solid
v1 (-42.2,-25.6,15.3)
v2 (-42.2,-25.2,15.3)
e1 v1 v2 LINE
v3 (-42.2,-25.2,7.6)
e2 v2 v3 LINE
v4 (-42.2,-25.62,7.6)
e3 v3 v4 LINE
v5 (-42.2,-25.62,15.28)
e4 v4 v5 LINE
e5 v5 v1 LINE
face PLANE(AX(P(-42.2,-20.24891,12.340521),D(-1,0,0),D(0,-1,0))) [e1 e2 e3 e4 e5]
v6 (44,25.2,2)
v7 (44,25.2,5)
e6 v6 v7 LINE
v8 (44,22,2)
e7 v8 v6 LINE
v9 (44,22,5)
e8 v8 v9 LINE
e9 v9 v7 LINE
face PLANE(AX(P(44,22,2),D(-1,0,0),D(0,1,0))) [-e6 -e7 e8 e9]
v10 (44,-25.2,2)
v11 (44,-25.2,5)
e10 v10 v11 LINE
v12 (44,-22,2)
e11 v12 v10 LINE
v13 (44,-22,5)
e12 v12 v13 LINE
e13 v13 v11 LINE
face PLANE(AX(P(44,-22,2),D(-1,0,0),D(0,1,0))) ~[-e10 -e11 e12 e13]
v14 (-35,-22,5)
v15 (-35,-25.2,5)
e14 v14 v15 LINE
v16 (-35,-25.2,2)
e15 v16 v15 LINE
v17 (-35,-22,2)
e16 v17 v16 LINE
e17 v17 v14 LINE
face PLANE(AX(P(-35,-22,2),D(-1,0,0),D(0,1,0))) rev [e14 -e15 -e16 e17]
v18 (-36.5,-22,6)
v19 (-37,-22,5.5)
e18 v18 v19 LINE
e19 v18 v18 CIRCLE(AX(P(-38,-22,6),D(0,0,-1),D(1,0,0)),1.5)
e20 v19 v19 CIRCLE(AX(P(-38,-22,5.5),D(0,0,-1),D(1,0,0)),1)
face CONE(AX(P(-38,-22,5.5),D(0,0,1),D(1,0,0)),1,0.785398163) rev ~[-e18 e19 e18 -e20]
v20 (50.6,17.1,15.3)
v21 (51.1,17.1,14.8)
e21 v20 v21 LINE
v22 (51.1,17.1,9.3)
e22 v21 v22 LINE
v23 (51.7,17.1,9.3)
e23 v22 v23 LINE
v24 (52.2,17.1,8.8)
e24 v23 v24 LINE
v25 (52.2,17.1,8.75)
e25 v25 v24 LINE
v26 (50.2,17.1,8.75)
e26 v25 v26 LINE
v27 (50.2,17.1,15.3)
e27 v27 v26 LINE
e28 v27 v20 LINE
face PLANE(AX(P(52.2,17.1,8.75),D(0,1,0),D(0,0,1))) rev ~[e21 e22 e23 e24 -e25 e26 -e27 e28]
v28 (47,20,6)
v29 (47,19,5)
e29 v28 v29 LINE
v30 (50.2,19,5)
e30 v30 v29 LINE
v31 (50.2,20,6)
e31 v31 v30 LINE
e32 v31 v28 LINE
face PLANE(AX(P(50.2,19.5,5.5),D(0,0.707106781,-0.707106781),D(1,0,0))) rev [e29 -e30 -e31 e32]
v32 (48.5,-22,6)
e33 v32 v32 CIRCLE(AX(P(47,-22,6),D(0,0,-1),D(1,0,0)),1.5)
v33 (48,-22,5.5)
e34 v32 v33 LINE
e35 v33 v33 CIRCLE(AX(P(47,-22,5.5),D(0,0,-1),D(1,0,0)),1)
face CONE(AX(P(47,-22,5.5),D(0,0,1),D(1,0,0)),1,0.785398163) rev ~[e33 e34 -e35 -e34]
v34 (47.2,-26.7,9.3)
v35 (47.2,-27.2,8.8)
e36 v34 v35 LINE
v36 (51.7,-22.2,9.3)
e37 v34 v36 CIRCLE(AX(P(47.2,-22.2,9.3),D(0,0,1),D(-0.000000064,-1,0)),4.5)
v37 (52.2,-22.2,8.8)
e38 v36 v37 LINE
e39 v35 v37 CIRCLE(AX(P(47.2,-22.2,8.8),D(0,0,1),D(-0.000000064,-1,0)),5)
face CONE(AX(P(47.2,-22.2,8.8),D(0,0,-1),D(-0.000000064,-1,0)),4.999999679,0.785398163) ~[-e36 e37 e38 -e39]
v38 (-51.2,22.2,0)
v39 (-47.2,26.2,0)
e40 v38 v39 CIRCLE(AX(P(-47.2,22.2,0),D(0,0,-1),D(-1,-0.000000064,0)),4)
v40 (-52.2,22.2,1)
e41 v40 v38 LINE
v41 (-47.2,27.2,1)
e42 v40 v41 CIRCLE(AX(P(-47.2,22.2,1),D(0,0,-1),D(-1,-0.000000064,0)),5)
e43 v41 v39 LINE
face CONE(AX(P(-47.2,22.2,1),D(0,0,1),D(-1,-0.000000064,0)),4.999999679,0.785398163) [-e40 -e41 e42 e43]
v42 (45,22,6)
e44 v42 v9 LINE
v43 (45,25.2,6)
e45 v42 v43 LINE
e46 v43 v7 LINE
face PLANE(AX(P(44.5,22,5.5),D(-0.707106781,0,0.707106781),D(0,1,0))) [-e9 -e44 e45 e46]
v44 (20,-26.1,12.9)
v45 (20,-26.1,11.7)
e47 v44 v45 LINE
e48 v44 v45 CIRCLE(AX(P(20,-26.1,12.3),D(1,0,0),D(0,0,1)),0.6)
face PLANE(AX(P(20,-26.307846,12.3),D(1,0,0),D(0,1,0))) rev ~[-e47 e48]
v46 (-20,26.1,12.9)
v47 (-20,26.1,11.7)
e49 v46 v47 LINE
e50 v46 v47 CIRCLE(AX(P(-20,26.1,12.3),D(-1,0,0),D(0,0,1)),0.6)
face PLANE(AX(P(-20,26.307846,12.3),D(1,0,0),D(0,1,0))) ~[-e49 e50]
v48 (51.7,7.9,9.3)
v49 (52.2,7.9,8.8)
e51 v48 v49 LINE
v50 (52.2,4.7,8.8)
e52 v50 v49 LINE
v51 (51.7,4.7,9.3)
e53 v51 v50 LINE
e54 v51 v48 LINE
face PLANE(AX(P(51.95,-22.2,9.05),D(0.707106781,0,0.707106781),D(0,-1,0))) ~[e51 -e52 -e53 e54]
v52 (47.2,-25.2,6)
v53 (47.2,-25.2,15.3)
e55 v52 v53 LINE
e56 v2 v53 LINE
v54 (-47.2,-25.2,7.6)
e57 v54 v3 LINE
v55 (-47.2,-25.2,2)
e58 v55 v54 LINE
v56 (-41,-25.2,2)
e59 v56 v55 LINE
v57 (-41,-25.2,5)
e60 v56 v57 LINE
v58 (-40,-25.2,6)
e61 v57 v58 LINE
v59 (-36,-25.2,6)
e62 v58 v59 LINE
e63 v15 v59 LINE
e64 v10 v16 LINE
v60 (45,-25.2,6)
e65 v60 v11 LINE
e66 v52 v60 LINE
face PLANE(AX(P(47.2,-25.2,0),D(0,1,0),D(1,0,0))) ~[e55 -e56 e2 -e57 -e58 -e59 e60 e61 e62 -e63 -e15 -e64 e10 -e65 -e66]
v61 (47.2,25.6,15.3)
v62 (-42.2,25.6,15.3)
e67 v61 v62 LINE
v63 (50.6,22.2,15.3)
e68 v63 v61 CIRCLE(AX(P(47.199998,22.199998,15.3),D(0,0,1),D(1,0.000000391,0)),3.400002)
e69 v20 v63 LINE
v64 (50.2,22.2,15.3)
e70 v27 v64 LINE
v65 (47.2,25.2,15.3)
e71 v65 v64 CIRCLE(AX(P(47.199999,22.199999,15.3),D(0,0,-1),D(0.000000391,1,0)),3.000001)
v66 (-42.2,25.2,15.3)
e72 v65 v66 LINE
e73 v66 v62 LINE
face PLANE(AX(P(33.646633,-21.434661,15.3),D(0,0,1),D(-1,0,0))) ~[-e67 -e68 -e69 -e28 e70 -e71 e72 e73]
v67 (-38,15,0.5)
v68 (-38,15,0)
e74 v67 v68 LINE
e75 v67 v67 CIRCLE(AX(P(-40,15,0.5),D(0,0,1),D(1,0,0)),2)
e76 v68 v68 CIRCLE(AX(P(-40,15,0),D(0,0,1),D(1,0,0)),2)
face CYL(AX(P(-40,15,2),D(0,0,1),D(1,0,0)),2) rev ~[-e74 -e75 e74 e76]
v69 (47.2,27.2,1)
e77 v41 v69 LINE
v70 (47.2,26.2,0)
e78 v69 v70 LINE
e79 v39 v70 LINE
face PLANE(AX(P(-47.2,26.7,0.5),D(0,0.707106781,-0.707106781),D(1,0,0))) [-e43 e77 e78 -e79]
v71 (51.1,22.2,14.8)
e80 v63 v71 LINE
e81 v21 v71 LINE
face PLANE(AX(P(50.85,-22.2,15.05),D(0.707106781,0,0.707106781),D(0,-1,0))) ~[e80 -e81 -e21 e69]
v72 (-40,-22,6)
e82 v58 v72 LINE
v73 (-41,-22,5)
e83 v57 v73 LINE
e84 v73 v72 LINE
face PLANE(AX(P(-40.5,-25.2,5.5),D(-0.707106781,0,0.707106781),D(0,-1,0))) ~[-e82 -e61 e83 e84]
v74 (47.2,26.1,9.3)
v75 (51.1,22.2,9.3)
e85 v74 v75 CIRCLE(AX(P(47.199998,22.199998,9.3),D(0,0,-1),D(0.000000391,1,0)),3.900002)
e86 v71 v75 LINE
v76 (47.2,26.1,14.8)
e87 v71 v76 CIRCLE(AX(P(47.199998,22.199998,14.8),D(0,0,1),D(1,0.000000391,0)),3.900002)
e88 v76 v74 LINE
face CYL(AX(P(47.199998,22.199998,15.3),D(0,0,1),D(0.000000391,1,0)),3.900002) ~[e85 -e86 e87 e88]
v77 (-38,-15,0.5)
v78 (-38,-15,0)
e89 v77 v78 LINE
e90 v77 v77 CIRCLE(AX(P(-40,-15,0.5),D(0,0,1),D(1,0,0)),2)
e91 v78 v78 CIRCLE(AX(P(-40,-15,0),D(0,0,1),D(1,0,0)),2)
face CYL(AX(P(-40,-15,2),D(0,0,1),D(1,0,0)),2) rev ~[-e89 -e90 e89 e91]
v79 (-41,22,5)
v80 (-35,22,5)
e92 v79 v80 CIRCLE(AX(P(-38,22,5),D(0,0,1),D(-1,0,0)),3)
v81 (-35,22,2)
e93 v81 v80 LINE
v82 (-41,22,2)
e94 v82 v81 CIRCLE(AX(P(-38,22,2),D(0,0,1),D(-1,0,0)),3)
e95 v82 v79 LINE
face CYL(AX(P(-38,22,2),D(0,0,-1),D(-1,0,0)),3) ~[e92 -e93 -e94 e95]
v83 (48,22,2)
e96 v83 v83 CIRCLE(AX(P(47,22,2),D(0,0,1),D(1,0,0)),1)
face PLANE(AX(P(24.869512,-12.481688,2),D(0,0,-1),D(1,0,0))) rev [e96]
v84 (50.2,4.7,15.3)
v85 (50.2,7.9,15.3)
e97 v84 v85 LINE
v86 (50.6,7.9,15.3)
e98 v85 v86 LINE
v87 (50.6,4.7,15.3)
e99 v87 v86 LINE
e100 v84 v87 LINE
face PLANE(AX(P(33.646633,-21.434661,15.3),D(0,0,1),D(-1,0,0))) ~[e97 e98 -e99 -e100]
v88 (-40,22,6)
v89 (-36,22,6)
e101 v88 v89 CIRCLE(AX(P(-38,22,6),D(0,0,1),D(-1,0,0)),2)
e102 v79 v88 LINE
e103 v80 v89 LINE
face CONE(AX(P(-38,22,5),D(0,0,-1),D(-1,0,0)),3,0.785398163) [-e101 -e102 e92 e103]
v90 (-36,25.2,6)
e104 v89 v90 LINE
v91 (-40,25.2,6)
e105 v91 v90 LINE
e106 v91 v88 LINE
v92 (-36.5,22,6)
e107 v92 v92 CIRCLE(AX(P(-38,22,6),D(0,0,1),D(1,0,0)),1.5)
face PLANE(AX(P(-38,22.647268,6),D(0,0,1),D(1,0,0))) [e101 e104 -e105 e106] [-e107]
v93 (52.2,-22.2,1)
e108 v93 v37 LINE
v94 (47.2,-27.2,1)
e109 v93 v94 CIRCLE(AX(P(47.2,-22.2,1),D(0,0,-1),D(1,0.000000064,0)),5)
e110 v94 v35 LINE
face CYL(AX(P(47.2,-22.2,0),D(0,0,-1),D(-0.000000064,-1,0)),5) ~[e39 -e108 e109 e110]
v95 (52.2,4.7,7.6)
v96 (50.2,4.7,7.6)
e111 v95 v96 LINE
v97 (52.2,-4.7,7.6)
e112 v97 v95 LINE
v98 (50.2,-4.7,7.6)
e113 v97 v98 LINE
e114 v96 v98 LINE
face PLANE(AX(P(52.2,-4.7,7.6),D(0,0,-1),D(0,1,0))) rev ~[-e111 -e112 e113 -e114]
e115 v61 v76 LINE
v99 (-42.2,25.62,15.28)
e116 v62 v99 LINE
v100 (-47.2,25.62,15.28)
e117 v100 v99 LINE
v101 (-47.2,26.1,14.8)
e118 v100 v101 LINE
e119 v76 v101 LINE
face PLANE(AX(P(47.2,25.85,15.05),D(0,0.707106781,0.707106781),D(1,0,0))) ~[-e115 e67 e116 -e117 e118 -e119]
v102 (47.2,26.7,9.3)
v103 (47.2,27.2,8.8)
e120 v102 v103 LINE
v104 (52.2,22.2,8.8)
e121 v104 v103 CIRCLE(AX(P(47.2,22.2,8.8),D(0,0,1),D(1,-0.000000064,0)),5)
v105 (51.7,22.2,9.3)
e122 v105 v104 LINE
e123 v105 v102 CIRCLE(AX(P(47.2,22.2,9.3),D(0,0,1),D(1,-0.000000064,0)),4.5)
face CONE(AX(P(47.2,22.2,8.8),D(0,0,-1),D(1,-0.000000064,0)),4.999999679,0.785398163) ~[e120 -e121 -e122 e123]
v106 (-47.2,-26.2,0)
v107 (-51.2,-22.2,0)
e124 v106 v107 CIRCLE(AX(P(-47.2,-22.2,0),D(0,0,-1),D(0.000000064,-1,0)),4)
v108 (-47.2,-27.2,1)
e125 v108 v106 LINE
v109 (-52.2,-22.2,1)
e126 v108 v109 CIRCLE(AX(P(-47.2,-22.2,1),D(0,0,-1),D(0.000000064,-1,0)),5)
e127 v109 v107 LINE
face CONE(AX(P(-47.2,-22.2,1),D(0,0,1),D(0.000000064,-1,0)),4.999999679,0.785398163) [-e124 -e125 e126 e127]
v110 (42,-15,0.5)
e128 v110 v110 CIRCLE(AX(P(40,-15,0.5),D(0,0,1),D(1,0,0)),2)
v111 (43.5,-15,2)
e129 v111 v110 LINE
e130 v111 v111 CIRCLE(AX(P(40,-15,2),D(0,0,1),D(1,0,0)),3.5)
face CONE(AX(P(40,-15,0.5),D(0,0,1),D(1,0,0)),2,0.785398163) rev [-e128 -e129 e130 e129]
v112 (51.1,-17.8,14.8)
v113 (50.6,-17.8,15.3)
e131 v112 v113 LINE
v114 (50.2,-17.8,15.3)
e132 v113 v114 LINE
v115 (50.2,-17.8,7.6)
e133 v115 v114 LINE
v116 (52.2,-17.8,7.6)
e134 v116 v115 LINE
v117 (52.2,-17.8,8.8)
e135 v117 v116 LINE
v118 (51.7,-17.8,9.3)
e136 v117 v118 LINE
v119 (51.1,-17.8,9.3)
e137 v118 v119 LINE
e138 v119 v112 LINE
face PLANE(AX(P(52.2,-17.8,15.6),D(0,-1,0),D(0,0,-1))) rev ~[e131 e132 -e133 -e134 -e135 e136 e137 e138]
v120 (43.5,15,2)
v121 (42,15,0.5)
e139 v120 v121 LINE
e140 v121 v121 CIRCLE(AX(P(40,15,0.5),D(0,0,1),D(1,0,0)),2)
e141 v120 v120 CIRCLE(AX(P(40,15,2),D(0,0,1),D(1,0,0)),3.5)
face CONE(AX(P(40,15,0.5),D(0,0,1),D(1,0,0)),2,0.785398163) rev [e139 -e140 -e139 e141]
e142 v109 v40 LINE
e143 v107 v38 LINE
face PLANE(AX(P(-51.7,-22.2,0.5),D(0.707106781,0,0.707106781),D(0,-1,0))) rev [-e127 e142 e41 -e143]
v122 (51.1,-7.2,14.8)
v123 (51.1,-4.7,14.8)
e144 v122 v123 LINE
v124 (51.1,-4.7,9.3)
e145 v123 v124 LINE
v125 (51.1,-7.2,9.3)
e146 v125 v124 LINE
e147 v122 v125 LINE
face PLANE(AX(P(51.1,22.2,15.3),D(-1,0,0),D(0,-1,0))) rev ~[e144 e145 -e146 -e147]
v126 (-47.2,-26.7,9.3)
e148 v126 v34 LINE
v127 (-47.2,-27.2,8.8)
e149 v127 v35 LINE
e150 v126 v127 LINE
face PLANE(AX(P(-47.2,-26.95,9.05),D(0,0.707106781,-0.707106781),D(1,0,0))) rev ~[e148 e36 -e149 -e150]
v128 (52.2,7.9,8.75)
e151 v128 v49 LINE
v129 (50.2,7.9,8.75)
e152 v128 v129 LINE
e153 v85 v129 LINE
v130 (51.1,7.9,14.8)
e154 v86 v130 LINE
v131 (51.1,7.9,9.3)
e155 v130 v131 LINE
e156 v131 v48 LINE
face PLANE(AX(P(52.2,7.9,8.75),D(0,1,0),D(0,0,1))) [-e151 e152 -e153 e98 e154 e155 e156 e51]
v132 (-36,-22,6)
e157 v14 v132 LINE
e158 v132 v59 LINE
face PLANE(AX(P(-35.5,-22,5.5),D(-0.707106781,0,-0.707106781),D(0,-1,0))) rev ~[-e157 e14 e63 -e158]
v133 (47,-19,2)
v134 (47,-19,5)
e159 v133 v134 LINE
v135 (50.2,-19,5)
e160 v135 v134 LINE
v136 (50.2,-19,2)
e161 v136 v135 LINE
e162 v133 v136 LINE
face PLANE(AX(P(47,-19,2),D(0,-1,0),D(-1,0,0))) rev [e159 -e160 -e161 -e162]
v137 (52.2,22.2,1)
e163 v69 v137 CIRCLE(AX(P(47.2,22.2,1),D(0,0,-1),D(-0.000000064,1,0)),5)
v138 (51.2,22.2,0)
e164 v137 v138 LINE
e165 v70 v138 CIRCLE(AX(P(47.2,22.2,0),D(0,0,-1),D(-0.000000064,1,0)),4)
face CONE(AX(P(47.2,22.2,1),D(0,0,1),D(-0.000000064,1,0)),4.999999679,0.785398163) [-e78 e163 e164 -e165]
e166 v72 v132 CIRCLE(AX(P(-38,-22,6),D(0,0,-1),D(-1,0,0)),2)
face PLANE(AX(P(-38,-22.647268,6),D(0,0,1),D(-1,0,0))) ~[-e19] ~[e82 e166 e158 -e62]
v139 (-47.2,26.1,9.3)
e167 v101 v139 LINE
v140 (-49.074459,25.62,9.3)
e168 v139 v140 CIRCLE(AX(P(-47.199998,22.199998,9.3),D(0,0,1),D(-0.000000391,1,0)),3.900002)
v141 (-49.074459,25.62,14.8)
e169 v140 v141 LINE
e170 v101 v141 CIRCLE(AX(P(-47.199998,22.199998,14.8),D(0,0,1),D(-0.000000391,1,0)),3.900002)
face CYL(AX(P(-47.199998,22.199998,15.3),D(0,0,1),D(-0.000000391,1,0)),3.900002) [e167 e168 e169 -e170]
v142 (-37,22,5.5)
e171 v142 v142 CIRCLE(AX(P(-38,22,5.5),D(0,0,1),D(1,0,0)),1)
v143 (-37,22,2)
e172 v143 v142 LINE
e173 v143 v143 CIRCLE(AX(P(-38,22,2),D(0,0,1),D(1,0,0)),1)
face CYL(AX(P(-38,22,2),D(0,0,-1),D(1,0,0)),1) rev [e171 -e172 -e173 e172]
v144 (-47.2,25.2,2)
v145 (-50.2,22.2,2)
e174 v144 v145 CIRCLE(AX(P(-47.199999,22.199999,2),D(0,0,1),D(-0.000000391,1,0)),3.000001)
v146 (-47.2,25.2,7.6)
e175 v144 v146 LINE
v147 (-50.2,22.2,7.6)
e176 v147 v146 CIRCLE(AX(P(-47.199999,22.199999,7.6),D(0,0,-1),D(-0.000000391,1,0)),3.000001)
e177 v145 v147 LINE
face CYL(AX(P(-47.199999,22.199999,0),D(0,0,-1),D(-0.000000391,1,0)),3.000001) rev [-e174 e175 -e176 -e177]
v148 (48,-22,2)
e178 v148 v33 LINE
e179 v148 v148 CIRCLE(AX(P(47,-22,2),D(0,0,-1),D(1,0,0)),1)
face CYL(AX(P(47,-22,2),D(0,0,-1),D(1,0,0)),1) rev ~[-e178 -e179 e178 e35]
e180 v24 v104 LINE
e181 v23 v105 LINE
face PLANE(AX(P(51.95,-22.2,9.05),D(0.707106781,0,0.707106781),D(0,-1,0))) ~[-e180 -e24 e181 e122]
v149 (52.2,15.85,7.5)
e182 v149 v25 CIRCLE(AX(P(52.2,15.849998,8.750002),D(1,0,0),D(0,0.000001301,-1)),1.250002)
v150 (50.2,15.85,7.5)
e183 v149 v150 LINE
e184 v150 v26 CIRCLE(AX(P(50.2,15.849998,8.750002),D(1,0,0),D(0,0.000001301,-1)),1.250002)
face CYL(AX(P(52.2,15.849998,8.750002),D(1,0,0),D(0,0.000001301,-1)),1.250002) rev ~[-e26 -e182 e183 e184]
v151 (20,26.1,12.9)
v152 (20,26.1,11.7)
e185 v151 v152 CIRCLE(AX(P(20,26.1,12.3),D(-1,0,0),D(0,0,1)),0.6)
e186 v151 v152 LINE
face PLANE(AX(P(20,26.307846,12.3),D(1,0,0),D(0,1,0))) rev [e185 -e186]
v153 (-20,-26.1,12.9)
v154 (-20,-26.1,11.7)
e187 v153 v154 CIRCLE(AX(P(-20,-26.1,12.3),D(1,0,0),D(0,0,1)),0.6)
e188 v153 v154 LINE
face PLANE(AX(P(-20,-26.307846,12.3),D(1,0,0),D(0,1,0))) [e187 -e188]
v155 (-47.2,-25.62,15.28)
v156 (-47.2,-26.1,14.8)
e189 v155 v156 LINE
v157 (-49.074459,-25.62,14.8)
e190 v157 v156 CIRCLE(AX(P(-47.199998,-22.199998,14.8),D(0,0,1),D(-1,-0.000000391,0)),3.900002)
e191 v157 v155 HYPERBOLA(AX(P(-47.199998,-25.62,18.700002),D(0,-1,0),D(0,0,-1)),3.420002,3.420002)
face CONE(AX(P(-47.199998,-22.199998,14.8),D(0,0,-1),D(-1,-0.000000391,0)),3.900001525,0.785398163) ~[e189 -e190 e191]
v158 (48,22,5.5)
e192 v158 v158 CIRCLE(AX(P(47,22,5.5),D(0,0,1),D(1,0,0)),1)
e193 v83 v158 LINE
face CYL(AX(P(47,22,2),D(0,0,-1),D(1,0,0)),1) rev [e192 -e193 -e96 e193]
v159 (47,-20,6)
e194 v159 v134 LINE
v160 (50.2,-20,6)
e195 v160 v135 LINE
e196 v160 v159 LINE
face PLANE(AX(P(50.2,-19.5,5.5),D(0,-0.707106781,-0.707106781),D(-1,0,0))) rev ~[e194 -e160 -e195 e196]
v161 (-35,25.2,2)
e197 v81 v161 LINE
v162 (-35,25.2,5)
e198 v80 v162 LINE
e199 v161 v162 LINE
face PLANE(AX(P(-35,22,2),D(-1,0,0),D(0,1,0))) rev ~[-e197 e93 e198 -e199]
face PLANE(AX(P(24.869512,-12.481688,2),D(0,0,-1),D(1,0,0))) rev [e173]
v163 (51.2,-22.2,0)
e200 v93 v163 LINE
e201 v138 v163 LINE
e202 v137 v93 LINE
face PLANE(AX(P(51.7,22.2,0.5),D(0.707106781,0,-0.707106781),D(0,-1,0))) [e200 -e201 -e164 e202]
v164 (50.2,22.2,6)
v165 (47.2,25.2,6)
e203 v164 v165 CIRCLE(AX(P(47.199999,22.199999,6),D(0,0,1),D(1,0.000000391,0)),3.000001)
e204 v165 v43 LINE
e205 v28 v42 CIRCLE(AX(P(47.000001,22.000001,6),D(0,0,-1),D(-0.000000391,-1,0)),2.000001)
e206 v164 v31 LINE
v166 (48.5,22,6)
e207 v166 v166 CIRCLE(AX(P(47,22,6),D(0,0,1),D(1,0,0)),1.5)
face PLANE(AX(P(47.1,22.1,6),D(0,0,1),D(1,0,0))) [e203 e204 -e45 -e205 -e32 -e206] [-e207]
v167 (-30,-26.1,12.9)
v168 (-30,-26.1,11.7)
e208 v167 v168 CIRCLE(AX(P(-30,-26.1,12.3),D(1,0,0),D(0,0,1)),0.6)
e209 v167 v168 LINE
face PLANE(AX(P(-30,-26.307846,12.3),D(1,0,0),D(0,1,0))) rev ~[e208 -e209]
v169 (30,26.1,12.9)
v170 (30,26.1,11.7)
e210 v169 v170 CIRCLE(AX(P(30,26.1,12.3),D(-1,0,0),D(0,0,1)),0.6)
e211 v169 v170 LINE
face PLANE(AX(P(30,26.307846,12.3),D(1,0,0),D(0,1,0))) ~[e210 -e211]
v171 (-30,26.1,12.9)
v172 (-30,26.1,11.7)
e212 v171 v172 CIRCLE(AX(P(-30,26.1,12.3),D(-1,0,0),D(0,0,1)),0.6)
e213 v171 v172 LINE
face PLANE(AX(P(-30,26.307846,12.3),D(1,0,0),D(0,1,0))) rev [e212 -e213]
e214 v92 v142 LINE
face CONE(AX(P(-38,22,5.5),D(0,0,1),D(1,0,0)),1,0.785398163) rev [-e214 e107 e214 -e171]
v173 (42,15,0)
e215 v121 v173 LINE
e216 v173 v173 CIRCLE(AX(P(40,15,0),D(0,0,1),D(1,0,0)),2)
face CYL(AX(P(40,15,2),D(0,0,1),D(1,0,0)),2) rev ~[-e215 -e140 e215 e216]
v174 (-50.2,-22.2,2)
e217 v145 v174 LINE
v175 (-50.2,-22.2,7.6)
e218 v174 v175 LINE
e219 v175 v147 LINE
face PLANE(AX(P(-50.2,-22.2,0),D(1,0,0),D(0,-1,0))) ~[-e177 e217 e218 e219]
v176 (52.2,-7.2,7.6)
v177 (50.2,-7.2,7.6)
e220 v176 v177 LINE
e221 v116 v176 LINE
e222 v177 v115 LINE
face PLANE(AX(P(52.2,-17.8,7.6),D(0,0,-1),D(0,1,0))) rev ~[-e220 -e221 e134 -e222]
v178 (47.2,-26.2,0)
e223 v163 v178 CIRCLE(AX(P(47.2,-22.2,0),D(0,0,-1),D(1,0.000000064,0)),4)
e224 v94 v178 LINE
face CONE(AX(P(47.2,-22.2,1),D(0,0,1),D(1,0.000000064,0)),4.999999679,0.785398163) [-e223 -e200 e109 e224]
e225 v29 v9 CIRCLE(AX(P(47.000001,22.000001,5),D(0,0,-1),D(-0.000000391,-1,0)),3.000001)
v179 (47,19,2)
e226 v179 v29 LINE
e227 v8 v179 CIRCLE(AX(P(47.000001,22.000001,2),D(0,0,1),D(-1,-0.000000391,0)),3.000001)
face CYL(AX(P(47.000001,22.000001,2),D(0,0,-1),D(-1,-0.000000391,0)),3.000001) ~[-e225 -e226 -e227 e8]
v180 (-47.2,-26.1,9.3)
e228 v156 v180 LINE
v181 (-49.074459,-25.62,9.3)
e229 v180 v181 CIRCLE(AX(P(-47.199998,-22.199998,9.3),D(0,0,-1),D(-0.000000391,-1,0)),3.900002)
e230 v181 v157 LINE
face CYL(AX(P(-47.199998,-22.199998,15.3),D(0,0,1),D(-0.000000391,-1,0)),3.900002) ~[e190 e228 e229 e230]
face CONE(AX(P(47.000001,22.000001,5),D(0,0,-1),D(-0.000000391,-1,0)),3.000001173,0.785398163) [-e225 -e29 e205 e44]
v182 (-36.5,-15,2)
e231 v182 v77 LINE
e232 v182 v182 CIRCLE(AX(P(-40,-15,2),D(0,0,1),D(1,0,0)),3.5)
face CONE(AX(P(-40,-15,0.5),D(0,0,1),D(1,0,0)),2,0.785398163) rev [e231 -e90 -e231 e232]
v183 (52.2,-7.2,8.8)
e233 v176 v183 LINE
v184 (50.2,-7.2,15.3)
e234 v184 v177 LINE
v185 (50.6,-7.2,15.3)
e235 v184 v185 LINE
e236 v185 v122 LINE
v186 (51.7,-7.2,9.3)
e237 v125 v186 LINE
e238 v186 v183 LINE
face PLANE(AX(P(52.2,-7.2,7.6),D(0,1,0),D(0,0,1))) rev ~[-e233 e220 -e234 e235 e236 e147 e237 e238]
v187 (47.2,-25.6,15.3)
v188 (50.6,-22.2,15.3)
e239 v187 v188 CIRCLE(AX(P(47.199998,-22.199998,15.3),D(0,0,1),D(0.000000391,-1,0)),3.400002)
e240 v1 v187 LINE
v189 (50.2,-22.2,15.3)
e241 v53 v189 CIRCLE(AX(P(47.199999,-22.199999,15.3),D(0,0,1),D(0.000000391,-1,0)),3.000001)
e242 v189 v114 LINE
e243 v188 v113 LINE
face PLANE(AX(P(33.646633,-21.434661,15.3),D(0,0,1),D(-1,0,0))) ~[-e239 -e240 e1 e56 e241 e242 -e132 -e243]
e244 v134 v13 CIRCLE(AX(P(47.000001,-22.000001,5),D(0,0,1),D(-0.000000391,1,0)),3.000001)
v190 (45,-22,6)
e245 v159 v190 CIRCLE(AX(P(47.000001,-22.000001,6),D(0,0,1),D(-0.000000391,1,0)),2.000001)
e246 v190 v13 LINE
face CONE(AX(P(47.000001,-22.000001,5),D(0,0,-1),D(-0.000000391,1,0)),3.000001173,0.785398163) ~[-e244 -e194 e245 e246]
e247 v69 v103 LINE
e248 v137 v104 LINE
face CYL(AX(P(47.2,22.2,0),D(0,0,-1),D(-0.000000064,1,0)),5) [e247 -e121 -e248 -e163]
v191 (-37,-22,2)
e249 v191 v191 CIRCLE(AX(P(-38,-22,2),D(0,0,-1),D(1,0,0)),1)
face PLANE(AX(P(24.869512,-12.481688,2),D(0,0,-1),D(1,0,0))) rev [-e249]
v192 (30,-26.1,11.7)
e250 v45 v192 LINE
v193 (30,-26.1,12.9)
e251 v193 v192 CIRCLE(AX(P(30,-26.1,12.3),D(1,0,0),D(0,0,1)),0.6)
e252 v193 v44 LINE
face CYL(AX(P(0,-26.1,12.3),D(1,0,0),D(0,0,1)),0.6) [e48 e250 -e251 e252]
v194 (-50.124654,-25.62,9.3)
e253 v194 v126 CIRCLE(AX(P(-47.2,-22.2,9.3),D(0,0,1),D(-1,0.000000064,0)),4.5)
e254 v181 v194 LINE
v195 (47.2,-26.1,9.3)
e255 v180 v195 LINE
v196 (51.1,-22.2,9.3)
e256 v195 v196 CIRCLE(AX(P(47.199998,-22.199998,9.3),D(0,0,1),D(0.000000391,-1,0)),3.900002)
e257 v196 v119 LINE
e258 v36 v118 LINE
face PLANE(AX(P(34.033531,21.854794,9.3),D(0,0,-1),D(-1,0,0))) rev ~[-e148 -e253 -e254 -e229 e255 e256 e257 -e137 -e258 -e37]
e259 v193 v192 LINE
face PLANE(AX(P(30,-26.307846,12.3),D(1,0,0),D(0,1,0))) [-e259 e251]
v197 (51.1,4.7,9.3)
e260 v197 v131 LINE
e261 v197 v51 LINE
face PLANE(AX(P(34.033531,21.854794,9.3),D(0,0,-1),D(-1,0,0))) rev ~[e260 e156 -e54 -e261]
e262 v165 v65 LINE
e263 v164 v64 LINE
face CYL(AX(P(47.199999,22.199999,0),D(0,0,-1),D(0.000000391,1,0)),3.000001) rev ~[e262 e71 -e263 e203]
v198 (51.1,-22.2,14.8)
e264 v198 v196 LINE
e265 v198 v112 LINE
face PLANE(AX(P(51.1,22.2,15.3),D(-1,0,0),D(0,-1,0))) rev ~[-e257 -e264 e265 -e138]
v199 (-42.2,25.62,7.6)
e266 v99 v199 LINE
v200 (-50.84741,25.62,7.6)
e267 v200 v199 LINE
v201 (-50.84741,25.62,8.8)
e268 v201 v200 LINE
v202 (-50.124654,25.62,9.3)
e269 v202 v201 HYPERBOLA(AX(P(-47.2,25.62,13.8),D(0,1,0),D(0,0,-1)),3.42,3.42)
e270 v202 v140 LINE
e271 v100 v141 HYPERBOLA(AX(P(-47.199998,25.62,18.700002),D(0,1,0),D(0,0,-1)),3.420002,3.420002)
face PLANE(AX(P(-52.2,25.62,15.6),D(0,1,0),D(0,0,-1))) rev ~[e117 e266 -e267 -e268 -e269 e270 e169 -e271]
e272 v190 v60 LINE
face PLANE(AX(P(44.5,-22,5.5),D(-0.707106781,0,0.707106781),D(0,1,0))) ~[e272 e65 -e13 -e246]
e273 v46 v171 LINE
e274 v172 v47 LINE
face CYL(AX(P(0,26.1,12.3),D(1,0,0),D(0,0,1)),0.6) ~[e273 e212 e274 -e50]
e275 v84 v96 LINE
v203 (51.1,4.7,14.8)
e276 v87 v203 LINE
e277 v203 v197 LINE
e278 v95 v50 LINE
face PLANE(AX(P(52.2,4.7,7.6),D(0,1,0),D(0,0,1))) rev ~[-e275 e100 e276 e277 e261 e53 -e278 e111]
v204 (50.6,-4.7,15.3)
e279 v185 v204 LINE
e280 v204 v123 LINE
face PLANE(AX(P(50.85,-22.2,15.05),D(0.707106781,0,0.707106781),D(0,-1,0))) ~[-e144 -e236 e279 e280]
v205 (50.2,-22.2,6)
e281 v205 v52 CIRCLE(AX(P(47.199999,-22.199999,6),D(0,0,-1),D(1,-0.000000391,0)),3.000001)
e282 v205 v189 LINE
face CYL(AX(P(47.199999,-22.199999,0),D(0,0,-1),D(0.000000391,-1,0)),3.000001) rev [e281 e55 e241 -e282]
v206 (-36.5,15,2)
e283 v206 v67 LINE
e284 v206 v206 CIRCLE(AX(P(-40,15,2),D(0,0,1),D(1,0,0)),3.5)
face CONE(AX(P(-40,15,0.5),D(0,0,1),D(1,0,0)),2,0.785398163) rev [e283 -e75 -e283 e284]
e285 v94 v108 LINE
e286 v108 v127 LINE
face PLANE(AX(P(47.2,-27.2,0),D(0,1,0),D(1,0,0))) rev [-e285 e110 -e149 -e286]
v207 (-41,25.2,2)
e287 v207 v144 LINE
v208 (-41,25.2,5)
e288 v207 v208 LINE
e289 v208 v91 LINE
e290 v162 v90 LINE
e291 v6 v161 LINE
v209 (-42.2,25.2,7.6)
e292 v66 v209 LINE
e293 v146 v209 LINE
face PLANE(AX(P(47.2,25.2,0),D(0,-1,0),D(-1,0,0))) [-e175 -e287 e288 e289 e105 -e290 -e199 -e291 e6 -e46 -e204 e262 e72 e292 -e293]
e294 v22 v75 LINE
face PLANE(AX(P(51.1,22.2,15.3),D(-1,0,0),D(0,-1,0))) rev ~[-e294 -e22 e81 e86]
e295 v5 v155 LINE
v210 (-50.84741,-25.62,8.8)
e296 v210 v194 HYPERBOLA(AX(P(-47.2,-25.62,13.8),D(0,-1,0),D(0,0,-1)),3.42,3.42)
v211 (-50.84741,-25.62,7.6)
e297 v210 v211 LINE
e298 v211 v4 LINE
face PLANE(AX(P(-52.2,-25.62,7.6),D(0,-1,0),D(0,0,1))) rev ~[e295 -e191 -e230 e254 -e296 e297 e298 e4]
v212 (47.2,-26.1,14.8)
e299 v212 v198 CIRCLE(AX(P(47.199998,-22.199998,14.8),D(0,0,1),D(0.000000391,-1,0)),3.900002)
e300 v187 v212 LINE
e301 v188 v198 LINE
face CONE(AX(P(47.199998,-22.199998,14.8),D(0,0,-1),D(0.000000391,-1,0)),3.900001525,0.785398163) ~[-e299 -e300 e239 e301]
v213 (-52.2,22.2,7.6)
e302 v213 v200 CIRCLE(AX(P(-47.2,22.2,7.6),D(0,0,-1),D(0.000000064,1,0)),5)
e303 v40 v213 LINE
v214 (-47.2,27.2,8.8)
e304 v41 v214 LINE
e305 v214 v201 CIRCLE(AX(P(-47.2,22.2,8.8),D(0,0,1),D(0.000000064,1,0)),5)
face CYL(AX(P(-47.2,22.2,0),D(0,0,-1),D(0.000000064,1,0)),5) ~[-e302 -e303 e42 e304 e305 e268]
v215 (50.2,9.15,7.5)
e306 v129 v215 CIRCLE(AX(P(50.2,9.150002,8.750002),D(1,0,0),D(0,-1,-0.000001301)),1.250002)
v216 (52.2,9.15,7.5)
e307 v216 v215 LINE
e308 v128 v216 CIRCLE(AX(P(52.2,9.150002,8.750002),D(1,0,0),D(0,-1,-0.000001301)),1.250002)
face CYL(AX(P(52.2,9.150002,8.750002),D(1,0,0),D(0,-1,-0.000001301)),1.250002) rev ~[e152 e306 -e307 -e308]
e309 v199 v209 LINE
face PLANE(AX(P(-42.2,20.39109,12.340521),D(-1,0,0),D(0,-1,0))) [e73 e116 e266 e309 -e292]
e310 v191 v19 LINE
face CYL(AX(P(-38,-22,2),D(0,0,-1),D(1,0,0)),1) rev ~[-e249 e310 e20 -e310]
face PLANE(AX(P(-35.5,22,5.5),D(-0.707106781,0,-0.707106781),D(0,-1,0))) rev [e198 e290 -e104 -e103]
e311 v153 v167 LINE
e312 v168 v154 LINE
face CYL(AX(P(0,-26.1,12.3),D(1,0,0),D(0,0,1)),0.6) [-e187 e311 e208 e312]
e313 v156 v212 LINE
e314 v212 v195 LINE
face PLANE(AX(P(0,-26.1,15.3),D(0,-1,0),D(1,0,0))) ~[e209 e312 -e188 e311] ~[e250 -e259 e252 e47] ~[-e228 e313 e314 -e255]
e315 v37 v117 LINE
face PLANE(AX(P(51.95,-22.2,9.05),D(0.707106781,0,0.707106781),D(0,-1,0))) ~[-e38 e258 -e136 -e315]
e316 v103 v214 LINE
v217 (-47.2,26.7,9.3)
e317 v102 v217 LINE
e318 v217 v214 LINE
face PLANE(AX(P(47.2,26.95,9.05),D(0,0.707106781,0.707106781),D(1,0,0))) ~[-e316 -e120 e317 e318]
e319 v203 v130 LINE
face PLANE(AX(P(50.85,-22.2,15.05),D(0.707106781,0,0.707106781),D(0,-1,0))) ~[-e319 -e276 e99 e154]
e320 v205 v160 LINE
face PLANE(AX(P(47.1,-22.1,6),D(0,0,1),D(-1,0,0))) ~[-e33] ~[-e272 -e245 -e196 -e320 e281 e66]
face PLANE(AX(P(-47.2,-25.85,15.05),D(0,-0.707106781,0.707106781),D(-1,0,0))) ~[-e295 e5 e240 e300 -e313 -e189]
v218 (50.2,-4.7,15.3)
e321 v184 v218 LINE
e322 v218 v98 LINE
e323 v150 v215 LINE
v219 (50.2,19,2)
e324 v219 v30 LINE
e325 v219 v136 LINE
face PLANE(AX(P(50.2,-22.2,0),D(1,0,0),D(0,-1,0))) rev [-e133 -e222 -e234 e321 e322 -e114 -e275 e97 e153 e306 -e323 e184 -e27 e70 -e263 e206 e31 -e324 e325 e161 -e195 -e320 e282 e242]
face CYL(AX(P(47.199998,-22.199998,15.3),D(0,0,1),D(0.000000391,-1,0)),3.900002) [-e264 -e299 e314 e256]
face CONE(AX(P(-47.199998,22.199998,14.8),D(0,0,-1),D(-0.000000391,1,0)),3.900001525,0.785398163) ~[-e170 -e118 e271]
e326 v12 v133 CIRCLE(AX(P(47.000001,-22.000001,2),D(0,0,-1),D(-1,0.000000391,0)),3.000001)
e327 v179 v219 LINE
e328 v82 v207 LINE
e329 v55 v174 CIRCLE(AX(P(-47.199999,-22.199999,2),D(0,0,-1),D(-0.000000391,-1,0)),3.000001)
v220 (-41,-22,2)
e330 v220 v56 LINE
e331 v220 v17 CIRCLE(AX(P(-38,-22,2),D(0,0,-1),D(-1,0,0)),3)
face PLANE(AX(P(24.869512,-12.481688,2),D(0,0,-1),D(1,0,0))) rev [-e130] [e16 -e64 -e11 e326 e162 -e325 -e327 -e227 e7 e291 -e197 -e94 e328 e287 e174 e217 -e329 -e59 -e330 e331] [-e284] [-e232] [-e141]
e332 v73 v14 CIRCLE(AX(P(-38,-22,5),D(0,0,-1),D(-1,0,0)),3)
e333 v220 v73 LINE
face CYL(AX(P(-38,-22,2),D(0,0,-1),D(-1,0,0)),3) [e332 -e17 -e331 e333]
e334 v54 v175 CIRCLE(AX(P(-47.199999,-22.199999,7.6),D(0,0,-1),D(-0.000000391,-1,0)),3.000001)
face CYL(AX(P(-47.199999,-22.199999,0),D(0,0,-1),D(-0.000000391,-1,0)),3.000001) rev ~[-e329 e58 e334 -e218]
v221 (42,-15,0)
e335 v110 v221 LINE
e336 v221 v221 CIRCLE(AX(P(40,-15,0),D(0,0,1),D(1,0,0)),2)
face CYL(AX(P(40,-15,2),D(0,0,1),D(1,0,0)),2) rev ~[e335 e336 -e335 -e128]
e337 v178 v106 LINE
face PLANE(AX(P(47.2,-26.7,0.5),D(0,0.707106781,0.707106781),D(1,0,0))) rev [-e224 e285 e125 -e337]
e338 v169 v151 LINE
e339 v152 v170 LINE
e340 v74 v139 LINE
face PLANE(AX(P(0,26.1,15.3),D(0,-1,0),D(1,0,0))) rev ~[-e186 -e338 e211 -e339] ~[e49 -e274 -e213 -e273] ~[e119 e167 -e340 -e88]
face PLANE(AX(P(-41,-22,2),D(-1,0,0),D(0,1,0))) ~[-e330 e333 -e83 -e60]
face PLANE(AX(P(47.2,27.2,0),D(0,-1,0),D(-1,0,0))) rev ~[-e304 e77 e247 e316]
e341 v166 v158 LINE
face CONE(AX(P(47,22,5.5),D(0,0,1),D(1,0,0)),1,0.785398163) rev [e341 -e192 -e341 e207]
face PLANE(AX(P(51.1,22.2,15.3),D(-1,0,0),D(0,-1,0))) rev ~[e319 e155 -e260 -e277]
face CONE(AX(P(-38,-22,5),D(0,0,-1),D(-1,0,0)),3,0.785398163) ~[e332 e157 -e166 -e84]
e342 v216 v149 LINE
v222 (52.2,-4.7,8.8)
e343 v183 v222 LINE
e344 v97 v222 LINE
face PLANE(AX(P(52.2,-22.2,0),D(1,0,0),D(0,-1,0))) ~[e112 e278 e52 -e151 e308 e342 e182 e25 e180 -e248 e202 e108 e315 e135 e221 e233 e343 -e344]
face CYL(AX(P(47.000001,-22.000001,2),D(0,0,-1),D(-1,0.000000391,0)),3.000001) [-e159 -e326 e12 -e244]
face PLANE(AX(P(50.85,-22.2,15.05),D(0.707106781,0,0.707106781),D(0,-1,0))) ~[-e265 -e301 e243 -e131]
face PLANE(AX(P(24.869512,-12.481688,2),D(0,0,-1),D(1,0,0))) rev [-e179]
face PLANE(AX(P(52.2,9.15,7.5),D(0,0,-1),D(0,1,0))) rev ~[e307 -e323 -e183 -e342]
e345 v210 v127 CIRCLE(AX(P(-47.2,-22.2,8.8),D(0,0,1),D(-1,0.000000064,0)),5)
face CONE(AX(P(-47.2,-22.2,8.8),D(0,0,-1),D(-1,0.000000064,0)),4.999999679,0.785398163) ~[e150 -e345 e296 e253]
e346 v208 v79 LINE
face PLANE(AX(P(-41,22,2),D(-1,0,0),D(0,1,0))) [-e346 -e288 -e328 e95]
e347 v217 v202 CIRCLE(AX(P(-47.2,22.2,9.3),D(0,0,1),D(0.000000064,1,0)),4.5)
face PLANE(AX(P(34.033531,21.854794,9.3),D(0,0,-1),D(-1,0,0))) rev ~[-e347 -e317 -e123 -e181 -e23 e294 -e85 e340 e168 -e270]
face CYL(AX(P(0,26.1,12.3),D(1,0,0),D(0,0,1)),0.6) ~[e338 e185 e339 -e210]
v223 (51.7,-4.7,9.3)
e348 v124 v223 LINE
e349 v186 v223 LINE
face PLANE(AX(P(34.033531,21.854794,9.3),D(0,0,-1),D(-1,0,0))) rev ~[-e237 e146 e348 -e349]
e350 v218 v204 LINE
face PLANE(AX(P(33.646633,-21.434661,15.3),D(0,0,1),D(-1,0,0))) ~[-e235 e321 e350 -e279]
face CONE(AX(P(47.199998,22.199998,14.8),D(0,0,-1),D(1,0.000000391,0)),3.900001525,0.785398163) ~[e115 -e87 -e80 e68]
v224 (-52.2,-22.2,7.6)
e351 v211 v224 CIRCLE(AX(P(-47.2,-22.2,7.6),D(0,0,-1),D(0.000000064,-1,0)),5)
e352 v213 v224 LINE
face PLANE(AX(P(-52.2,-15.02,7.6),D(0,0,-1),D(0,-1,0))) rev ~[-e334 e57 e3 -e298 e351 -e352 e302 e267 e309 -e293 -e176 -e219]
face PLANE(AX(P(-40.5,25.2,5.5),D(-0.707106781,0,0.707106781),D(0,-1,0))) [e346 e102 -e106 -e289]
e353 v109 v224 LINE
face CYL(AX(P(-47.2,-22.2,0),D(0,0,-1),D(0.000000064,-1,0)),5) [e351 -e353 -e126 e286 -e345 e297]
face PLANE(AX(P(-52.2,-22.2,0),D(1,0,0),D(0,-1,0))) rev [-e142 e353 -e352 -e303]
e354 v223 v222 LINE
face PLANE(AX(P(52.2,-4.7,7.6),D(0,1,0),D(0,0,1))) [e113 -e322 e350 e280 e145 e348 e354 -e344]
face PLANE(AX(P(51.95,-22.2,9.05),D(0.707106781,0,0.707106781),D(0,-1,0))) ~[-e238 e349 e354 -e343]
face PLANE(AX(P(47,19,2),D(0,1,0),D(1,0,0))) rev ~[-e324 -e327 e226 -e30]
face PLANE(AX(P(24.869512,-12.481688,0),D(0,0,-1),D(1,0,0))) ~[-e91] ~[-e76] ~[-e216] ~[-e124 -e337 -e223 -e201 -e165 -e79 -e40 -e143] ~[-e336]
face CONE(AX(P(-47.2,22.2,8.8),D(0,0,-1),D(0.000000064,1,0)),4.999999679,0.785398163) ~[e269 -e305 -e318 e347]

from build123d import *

# Parameters (mm, degrees)
PAD017_DEPTH                  = 15.3
PAD017_MIRRORED033_2_DEPTH    = 15.3
PAD023_DEPTH                  = 2
PAD023_MIRRORED043_2_DEPTH    = 2
SKETCH061_R                   = 1
PAD019_DEPTH                  = 4
POCKET060_DEPTH               = 6
POCKET060_MIRRORED038_2_DEPTH = 6
PAD020_DEPTH                  = 30
POCKET068_DEPTH               = 20
CHAMFER034_SIZE               = 1
CHAMFER026_SIZE               = 1
CHAMFER029_SIZE               = 0.5
CHAMFER028_SIZE               = 0.5
CHAMFER033_SIZE               = 0.5
POCKET063_DEPTH               = 5
SKETCH082_W                   = 9.4
SKETCH082_H                   = 50
POCKET066_DEPTH               = 5
POCKET053_DEPTH               = 10
POCKET065_DEPTH               = 10
POCKET052_DEPTH               = 10
POCKET056_DEPTH               = 10
POCKET057_DEPTH               = 10
POCKET071_DEPTH               = 10
SKETCH072_R                   = 2
POCKET072_DEPTH               = 5
CHAMFER031_SIZE               = 1.5


with BuildPart() as part:
    # Sketch076 → Pad017 (new body)
    with BuildSketch(Plane.XY):
        with BuildLine():
            ThreePointArc((-47.2, 25.2), (-49.32132, 24.32132), (-50.2, 22.2))
            Line((-50.2, 22.2), (-50.2, 0))
            Line((-52.2, 0), (-50.2, 0))
            Line((-52.2, 22.2), (-52.2, 0))
            ThreePointArc((-47.2, 27.2), (-50.735534, 25.735534), (-52.2, 22.2))
            Line((-47.2, 27.2), (0, 27.2))
            Line((0, 27.2), (0, 25.2))
            Line((-47.2, 25.2), (0, 25.2))
        make_face()
    pad017 = extrude(amount=PAD017_DEPTH)

    # Sketch076 Mirrored033 2 → Pad017 Mirrored033 2 (add)
    with BuildSketch(Plane(origin=(0, 0, 0), x_dir=(-1, 0, 0), z_dir=(0, 0, -1))):
        with BuildLine():
            ThreePointArc((-47.2, 25.2), (-49.32132, 24.32132), (-50.2, 22.2))
            Line((-50.2, 22.2), (-50.2, 0))
            Line((-52.2, 0), (-50.2, 0))
            Line((-52.2, 22.2), (-52.2, 0))
            ThreePointArc((-47.2, 27.2), (-50.735534, 25.735534), (-52.2, 22.2))
            Line((-47.2, 27.2), (0, 27.2))
            Line((0, 27.2), (0, 25.2))
            Line((-47.2, 25.2), (0, 25.2))
        make_face()
    pad017_mirrored033_2 = extrude(amount=-PAD017_MIRRORED033_2_DEPTH)

    # Mirrored031: Pad017, Pad017 Mirrored033 2 across Sketch076 H_Axis
    add(pad017.mirror(Plane.ZX))
    add(pad017_mirrored033_2.mirror(Plane.ZX))

    # Sketch074 → Pad023 (join)
    with BuildSketch(Plane.XY):
        with BuildLine():
            ThreePointArc((-47.2, 25.2), (-49.32132, 24.32132), (-50.2, 22.2))
            Line((-50.2, 22.2), (-50.2, 0))
            Line((-50.2, 0), (0, 0))
            Line((0, 0), (0, 25.2))
            Line((-47.2, 25.2), (0, 25.2))
        make_face()
    pad023 = extrude(amount=PAD023_DEPTH)

    # Sketch074 Mirrored043 2 → Pad023 Mirrored043 2 (add)
    with BuildSketch(Plane(origin=(0, 0, 0), x_dir=(-1, 0, 0), z_dir=(0, 0, -1))):
        with BuildLine():
            ThreePointArc((-47.2, 25.2), (-49.32132, 24.32132), (-50.2, 22.2))
            Line((-50.2, 22.2), (-50.2, 0))
            Line((-50.2, 0), (0, 0))
            Line((0, 0), (0, 25.2))
            Line((-47.2, 25.2), (0, 25.2))
        make_face()
    pad023_mirrored043_2 = extrude(amount=-PAD023_MIRRORED043_2_DEPTH)

    # Mirrored037: Pad023, Pad023 Mirrored043 2 across Sketch074 H_Axis
    add(pad023.mirror(Plane.ZX))
    add(pad023_mirrored043_2.mirror(Plane.ZX))

    # Sketch061 (on Face19 of MultiTransform012) → Pad019 (join)
    with BuildSketch(Plane.XY.offset(2)):
        with BuildLine():
            ThreePointArc((50.2, 22.2), (49.32132, 24.32132), (47.2, 25.2))
            Line((47.2, 25.2), (44, 25.2))
            Line((44, 22), (44, 25.2))
            ThreePointArc((44, 22), (44.87868, 19.87868), (47, 19))
            Line((47, 19), (50.2, 19))
            Line((50.2, 22.2), (50.2, 19))
        make_face()
        with Locations((47, 22)):
            Circle(SKETCH061_R, mode=Mode.SUBTRACT)
        with BuildLine():
            ThreePointArc((-41, 22), (-38, 19), (-35, 22))
            Line((-35, 22), (-35, 25.2))
            Line((-41, 25.2), (-35, 25.2))
            Line((-41, 22), (-41, 25.2))
        make_face()
        with Locations((-38, 22)):
            Circle(SKETCH061_R, mode=Mode.SUBTRACT)
    pad019 = extrude(amount=PAD019_DEPTH)

    # Mirrored035: Pad019 across Sketch061 H_Axis
    add(pad019.mirror(Plane(origin=(0, 0, 2), x_dir=(0, 0, 1), z_dir=(0, 1, 0))))

    # Sketch068 (on Face5 of Mirrored035) → Pocket060 (cut)
    with BuildSketch(Plane.XY.offset(15.3)):
        with BuildLine():
            ThreePointArc((-47.2, 27.2), (-50.735534, 25.735534), (-52.2, 22.2))
            Line((-52.2, 0), (-52.2, 22.2))
            Line((-51.1, 0), (-52.2, 0))
            Line((-51.1, 22.2), (-51.1, 0))
            ThreePointArc((-47.2, 26.1), (-49.957716, 24.957716), (-51.1, 22.2))
            Line((0, 26.1), (-47.2, 26.1))
            Line((0, 27.2), (0, 26.1))
            Line((-47.2, 27.2), (0, 27.2))
        make_face()
    pocket060 = extrude(amount=-POCKET060_DEPTH, mode=Mode.SUBTRACT)

    # Sketch068 Mirrored038 2 → Pocket060 Mirrored038 2 (cut)
    with BuildSketch(Plane(origin=(0, 0, 15.3), x_dir=(-1, 0, 0), z_dir=(0, 0, -1))):
        with BuildLine():
            ThreePointArc((-47.2, 27.2), (-50.735534, 25.735534), (-52.2, 22.2))
            Line((-52.2, 0), (-52.2, 22.2))
            Line((-51.1, 0), (-52.2, 0))
            Line((-51.1, 22.2), (-51.1, 0))
            ThreePointArc((-47.2, 26.1), (-49.957716, 24.957716), (-51.1, 22.2))
            Line((0, 26.1), (-47.2, 26.1))
            Line((0, 27.2), (0, 26.1))
            Line((-47.2, 27.2), (0, 27.2))
        make_face()
    pocket060_mirrored038_2 = extrude(amount=POCKET060_MIRRORED038_2_DEPTH, mode=Mode.SUBTRACT)

    # Mirrored042: Pocket060, Pocket060 Mirrored038 2 across Sketch068 H_Axis
    add(pocket060.mirror(Plane(origin=(0, 0, 15.3), x_dir=(0, 0, 1), z_dir=(0, 1, 0))), mode=Mode.SUBTRACT)
    add(pocket060_mirrored038_2.mirror(Plane(origin=(0, 0, 15.3), x_dir=(0, 0, 1), z_dir=(0, 1, 0))), mode=Mode.SUBTRACT)

    # Sketch060 → Pad020 (join, symmetric)
    with BuildSketch(Plane.YZ):
        with BuildLine():
            ThreePointArc((-26.1, 12.9), (-26.7, 12.3), (-26.1, 11.7))
            Line((-26.1, 12.9), (-26.1, 11.7))
        make_face()
    pad020 = extrude(amount=PAD020_DEPTH, both=True)

    # Sketch060 → Pocket068 (cut, symmetric)
    with BuildSketch(Plane.YZ):
        with BuildLine():
            ThreePointArc((-26.1, 12.9), (-26.7, 12.3), (-26.1, 11.7))
            Line((-26.1, 12.9), (-26.1, 11.7))
        make_face()
    pocket068 = extrude(amount=POCKET068_DEPTH, both=True, mode=Mode.SUBTRACT)

    # Mirrored034: Pad020, Pocket068 across Sketch060 V_Axis
    add(pad020.mirror(Plane(origin=(0, 0, 0), x_dir=(1, 0, 0), z_dir=(0, 1, 0))))
    add(pocket068.mirror(Plane(origin=(0, 0, 0), x_dir=(1, 0, 0), z_dir=(0, 1, 0))), mode=Mode.SUBTRACT)

    # Chamfer034
    chamfer034_edges = [part.edges().sort_by_distance(p)[0] for p in [
        (0, -27.2, 0),
    ]]
    chamfer(chamfer034_edges, length=CHAMFER034_SIZE)

    # Chamfer026
    chamfer026_edges = [part.edges().sort_by_distance(p)[0] for p in [
        (-35, 23.6, 6),
        (-35, -23.6, 6),
        (44, -23.6, 6),
        (44, 23.6, 6),
    ]]
    chamfer(chamfer026_edges, length=CHAMFER026_SIZE)

    # Chamfer029
    chamfer029_edges = [part.edges().sort_by_distance(p)[0] for p in [
        (-39, 22, 6),
        (46, 22, 6),
        (-39, -22, 6),
        (46, -22, 6),
    ]]
    chamfer(chamfer029_edges, length=CHAMFER029_SIZE)

    # Chamfer028
    chamfer028_edges = [part.edges().sort_by_distance(p)[0] for p in [
        (0, -26.1, 15.3),
    ]]
    chamfer(chamfer028_edges, length=CHAMFER028_SIZE)

    # Chamfer033
    chamfer033_edges = [part.edges().sort_by_distance(p)[0] for p in [
        (-23.6, -27.2, 9.3),
    ]]
    chamfer(chamfer033_edges, length=CHAMFER033_SIZE)

    # Sketch069 (on DatumPlane) → Pocket063 (cut)
    with BuildSketch(Plane.YZ.offset(52.2)):
        with BuildLine():
            ThreePointArc((7.9, 8.75), (8.266117, 7.866117), (9.15, 7.5))
            Line((9.15, 7.5), (15.85, 7.5))
            ThreePointArc((15.85, 7.5), (16.733883, 7.866117), (17.1, 8.75))
            Line((17.1, 8.75), (17.1, 58.75))
            Line((7.9, 58.75), (17.1, 58.75))
            Line((7.9, 8.75), (7.9, 58.75))
        make_face()
    extrude(amount=-POCKET063_DEPTH, mode=Mode.SUBTRACT)

    # Sketch082 (on DatumPlane) → Pocket066 (cut)
    with BuildSketch(Plane.YZ.offset(52.2)):
        with Locations((0, 32.6)):
            Rectangle(SKETCH082_W, SKETCH082_H)
    extrude(amount=-POCKET066_DEPTH, mode=Mode.SUBTRACT)

    # Sketch062 (on DatumPlane) → Pocket053 (cut)
    with BuildSketch(Plane.YZ.offset(52.2)):
        Polygon((-17.8, 7.6), (-7.2, 7.6), (-7.2, 15.6), (-12.1, 15.6), (-12.1, 18.1), (-14.1, 18.1), (-14.1, 15.6), (-17.8, 15.6), align=None)
    extrude(amount=-POCKET053_DEPTH, mode=Mode.SUBTRACT)

    # Sketch083 (on DatumPlane) → Pocket065 (cut)
    with BuildSketch(Plane(origin=(-52.2, 0, 0), x_dir=(0, -1, 0), z_dir=(-1, 0, 0))):
        Polygon((-25.62, 7.6), (-15.02, 7.6), (-15.02, 15.6), (-19.92, 15.6), (-19.92, 18.1), (-21.92, 18.1), (-21.92, 15.6), (-25.62, 15.6), align=None)
    extrude(amount=-POCKET065_DEPTH, mode=Mode.SUBTRACT)

    # Sketch063 (on DatumPlane) → Pocket052 (cut)
    with BuildSketch(Plane(origin=(-52.2, 0, 0), x_dir=(0, -1, 0), z_dir=(-1, 0, 0))):
        Polygon((-15.46, 7.6), (-4.86, 7.6), (-4.86, 15.6), (-9.76, 15.6), (-9.76, 18.1), (-11.76, 18.1), (-11.76, 15.6), (-15.46, 15.6), align=None)
    extrude(amount=-POCKET052_DEPTH, mode=Mode.SUBTRACT)

    # Sketch059 (on DatumPlane) → Pocket056 (cut)
    with BuildSketch(Plane(origin=(-52.2, 0, 0), x_dir=(0, -1, 0), z_dir=(-1, 0, 0))):
        Polygon((-5.3, 7.6), (5.3, 7.6), (5.3, 15.6), (0, 15.6), (0, 18.1), (-2, 18.1), (-2, 15.6), (-5.3, 15.6), align=None)
    extrude(amount=-POCKET056_DEPTH, mode=Mode.SUBTRACT)

    # Sketch071 (on DatumPlane) → Pocket057 (cut)
    with BuildSketch(Plane(origin=(-52.2, 0, 0), x_dir=(0, -1, 0), z_dir=(-1, 0, 0))):
        Polygon((4.86, 7.6), (15.46, 7.6), (15.46, 15.6), (10.56, 15.6), (10.56, 18.1), (8.56, 18.1), (8.56, 15.6), (4.86, 15.6), align=None)
    extrude(amount=-POCKET057_DEPTH, mode=Mode.SUBTRACT)

    # Sketch070 (on DatumPlane) → Pocket071 (cut)
    with BuildSketch(Plane(origin=(-52.2, 0, 0), x_dir=(0, -1, 0), z_dir=(-1, 0, 0))):
        Polygon((15.02, 7.6), (25.62, 7.6), (25.62, 15.6), (20.72, 15.6), (20.72, 18.1), (18.72, 18.1), (18.72, 15.6), (15.02, 15.6), align=None)
    extrude(amount=-POCKET071_DEPTH, mode=Mode.SUBTRACT)

    # Sketch072 (on DatumPlane) → Pocket072 (cut)
    with BuildSketch(Plane.XY.offset(2)):
        with Locations((-40, 15)):
            Circle(SKETCH072_R)
        with Locations((40, 15)):
            Circle(SKETCH072_R)
        with Locations((40, -15)):
            Circle(SKETCH072_R)
        with Locations((-40, -15)):
            Circle(SKETCH072_R)
    extrude(amount=-POCKET072_DEPTH, mode=Mode.SUBTRACT)

    # Chamfer031
    chamfer031_edges = [part.edges().sort_by_distance(p)[0] for p in [
        (-42, 15, 2),
        (38, 15, 2),
        (38, -15, 2),
        (-42, -15, 2),
    ]]
    chamfer(chamfer031_edges, length=CHAMFER031_SIZE)


solid = part.part
